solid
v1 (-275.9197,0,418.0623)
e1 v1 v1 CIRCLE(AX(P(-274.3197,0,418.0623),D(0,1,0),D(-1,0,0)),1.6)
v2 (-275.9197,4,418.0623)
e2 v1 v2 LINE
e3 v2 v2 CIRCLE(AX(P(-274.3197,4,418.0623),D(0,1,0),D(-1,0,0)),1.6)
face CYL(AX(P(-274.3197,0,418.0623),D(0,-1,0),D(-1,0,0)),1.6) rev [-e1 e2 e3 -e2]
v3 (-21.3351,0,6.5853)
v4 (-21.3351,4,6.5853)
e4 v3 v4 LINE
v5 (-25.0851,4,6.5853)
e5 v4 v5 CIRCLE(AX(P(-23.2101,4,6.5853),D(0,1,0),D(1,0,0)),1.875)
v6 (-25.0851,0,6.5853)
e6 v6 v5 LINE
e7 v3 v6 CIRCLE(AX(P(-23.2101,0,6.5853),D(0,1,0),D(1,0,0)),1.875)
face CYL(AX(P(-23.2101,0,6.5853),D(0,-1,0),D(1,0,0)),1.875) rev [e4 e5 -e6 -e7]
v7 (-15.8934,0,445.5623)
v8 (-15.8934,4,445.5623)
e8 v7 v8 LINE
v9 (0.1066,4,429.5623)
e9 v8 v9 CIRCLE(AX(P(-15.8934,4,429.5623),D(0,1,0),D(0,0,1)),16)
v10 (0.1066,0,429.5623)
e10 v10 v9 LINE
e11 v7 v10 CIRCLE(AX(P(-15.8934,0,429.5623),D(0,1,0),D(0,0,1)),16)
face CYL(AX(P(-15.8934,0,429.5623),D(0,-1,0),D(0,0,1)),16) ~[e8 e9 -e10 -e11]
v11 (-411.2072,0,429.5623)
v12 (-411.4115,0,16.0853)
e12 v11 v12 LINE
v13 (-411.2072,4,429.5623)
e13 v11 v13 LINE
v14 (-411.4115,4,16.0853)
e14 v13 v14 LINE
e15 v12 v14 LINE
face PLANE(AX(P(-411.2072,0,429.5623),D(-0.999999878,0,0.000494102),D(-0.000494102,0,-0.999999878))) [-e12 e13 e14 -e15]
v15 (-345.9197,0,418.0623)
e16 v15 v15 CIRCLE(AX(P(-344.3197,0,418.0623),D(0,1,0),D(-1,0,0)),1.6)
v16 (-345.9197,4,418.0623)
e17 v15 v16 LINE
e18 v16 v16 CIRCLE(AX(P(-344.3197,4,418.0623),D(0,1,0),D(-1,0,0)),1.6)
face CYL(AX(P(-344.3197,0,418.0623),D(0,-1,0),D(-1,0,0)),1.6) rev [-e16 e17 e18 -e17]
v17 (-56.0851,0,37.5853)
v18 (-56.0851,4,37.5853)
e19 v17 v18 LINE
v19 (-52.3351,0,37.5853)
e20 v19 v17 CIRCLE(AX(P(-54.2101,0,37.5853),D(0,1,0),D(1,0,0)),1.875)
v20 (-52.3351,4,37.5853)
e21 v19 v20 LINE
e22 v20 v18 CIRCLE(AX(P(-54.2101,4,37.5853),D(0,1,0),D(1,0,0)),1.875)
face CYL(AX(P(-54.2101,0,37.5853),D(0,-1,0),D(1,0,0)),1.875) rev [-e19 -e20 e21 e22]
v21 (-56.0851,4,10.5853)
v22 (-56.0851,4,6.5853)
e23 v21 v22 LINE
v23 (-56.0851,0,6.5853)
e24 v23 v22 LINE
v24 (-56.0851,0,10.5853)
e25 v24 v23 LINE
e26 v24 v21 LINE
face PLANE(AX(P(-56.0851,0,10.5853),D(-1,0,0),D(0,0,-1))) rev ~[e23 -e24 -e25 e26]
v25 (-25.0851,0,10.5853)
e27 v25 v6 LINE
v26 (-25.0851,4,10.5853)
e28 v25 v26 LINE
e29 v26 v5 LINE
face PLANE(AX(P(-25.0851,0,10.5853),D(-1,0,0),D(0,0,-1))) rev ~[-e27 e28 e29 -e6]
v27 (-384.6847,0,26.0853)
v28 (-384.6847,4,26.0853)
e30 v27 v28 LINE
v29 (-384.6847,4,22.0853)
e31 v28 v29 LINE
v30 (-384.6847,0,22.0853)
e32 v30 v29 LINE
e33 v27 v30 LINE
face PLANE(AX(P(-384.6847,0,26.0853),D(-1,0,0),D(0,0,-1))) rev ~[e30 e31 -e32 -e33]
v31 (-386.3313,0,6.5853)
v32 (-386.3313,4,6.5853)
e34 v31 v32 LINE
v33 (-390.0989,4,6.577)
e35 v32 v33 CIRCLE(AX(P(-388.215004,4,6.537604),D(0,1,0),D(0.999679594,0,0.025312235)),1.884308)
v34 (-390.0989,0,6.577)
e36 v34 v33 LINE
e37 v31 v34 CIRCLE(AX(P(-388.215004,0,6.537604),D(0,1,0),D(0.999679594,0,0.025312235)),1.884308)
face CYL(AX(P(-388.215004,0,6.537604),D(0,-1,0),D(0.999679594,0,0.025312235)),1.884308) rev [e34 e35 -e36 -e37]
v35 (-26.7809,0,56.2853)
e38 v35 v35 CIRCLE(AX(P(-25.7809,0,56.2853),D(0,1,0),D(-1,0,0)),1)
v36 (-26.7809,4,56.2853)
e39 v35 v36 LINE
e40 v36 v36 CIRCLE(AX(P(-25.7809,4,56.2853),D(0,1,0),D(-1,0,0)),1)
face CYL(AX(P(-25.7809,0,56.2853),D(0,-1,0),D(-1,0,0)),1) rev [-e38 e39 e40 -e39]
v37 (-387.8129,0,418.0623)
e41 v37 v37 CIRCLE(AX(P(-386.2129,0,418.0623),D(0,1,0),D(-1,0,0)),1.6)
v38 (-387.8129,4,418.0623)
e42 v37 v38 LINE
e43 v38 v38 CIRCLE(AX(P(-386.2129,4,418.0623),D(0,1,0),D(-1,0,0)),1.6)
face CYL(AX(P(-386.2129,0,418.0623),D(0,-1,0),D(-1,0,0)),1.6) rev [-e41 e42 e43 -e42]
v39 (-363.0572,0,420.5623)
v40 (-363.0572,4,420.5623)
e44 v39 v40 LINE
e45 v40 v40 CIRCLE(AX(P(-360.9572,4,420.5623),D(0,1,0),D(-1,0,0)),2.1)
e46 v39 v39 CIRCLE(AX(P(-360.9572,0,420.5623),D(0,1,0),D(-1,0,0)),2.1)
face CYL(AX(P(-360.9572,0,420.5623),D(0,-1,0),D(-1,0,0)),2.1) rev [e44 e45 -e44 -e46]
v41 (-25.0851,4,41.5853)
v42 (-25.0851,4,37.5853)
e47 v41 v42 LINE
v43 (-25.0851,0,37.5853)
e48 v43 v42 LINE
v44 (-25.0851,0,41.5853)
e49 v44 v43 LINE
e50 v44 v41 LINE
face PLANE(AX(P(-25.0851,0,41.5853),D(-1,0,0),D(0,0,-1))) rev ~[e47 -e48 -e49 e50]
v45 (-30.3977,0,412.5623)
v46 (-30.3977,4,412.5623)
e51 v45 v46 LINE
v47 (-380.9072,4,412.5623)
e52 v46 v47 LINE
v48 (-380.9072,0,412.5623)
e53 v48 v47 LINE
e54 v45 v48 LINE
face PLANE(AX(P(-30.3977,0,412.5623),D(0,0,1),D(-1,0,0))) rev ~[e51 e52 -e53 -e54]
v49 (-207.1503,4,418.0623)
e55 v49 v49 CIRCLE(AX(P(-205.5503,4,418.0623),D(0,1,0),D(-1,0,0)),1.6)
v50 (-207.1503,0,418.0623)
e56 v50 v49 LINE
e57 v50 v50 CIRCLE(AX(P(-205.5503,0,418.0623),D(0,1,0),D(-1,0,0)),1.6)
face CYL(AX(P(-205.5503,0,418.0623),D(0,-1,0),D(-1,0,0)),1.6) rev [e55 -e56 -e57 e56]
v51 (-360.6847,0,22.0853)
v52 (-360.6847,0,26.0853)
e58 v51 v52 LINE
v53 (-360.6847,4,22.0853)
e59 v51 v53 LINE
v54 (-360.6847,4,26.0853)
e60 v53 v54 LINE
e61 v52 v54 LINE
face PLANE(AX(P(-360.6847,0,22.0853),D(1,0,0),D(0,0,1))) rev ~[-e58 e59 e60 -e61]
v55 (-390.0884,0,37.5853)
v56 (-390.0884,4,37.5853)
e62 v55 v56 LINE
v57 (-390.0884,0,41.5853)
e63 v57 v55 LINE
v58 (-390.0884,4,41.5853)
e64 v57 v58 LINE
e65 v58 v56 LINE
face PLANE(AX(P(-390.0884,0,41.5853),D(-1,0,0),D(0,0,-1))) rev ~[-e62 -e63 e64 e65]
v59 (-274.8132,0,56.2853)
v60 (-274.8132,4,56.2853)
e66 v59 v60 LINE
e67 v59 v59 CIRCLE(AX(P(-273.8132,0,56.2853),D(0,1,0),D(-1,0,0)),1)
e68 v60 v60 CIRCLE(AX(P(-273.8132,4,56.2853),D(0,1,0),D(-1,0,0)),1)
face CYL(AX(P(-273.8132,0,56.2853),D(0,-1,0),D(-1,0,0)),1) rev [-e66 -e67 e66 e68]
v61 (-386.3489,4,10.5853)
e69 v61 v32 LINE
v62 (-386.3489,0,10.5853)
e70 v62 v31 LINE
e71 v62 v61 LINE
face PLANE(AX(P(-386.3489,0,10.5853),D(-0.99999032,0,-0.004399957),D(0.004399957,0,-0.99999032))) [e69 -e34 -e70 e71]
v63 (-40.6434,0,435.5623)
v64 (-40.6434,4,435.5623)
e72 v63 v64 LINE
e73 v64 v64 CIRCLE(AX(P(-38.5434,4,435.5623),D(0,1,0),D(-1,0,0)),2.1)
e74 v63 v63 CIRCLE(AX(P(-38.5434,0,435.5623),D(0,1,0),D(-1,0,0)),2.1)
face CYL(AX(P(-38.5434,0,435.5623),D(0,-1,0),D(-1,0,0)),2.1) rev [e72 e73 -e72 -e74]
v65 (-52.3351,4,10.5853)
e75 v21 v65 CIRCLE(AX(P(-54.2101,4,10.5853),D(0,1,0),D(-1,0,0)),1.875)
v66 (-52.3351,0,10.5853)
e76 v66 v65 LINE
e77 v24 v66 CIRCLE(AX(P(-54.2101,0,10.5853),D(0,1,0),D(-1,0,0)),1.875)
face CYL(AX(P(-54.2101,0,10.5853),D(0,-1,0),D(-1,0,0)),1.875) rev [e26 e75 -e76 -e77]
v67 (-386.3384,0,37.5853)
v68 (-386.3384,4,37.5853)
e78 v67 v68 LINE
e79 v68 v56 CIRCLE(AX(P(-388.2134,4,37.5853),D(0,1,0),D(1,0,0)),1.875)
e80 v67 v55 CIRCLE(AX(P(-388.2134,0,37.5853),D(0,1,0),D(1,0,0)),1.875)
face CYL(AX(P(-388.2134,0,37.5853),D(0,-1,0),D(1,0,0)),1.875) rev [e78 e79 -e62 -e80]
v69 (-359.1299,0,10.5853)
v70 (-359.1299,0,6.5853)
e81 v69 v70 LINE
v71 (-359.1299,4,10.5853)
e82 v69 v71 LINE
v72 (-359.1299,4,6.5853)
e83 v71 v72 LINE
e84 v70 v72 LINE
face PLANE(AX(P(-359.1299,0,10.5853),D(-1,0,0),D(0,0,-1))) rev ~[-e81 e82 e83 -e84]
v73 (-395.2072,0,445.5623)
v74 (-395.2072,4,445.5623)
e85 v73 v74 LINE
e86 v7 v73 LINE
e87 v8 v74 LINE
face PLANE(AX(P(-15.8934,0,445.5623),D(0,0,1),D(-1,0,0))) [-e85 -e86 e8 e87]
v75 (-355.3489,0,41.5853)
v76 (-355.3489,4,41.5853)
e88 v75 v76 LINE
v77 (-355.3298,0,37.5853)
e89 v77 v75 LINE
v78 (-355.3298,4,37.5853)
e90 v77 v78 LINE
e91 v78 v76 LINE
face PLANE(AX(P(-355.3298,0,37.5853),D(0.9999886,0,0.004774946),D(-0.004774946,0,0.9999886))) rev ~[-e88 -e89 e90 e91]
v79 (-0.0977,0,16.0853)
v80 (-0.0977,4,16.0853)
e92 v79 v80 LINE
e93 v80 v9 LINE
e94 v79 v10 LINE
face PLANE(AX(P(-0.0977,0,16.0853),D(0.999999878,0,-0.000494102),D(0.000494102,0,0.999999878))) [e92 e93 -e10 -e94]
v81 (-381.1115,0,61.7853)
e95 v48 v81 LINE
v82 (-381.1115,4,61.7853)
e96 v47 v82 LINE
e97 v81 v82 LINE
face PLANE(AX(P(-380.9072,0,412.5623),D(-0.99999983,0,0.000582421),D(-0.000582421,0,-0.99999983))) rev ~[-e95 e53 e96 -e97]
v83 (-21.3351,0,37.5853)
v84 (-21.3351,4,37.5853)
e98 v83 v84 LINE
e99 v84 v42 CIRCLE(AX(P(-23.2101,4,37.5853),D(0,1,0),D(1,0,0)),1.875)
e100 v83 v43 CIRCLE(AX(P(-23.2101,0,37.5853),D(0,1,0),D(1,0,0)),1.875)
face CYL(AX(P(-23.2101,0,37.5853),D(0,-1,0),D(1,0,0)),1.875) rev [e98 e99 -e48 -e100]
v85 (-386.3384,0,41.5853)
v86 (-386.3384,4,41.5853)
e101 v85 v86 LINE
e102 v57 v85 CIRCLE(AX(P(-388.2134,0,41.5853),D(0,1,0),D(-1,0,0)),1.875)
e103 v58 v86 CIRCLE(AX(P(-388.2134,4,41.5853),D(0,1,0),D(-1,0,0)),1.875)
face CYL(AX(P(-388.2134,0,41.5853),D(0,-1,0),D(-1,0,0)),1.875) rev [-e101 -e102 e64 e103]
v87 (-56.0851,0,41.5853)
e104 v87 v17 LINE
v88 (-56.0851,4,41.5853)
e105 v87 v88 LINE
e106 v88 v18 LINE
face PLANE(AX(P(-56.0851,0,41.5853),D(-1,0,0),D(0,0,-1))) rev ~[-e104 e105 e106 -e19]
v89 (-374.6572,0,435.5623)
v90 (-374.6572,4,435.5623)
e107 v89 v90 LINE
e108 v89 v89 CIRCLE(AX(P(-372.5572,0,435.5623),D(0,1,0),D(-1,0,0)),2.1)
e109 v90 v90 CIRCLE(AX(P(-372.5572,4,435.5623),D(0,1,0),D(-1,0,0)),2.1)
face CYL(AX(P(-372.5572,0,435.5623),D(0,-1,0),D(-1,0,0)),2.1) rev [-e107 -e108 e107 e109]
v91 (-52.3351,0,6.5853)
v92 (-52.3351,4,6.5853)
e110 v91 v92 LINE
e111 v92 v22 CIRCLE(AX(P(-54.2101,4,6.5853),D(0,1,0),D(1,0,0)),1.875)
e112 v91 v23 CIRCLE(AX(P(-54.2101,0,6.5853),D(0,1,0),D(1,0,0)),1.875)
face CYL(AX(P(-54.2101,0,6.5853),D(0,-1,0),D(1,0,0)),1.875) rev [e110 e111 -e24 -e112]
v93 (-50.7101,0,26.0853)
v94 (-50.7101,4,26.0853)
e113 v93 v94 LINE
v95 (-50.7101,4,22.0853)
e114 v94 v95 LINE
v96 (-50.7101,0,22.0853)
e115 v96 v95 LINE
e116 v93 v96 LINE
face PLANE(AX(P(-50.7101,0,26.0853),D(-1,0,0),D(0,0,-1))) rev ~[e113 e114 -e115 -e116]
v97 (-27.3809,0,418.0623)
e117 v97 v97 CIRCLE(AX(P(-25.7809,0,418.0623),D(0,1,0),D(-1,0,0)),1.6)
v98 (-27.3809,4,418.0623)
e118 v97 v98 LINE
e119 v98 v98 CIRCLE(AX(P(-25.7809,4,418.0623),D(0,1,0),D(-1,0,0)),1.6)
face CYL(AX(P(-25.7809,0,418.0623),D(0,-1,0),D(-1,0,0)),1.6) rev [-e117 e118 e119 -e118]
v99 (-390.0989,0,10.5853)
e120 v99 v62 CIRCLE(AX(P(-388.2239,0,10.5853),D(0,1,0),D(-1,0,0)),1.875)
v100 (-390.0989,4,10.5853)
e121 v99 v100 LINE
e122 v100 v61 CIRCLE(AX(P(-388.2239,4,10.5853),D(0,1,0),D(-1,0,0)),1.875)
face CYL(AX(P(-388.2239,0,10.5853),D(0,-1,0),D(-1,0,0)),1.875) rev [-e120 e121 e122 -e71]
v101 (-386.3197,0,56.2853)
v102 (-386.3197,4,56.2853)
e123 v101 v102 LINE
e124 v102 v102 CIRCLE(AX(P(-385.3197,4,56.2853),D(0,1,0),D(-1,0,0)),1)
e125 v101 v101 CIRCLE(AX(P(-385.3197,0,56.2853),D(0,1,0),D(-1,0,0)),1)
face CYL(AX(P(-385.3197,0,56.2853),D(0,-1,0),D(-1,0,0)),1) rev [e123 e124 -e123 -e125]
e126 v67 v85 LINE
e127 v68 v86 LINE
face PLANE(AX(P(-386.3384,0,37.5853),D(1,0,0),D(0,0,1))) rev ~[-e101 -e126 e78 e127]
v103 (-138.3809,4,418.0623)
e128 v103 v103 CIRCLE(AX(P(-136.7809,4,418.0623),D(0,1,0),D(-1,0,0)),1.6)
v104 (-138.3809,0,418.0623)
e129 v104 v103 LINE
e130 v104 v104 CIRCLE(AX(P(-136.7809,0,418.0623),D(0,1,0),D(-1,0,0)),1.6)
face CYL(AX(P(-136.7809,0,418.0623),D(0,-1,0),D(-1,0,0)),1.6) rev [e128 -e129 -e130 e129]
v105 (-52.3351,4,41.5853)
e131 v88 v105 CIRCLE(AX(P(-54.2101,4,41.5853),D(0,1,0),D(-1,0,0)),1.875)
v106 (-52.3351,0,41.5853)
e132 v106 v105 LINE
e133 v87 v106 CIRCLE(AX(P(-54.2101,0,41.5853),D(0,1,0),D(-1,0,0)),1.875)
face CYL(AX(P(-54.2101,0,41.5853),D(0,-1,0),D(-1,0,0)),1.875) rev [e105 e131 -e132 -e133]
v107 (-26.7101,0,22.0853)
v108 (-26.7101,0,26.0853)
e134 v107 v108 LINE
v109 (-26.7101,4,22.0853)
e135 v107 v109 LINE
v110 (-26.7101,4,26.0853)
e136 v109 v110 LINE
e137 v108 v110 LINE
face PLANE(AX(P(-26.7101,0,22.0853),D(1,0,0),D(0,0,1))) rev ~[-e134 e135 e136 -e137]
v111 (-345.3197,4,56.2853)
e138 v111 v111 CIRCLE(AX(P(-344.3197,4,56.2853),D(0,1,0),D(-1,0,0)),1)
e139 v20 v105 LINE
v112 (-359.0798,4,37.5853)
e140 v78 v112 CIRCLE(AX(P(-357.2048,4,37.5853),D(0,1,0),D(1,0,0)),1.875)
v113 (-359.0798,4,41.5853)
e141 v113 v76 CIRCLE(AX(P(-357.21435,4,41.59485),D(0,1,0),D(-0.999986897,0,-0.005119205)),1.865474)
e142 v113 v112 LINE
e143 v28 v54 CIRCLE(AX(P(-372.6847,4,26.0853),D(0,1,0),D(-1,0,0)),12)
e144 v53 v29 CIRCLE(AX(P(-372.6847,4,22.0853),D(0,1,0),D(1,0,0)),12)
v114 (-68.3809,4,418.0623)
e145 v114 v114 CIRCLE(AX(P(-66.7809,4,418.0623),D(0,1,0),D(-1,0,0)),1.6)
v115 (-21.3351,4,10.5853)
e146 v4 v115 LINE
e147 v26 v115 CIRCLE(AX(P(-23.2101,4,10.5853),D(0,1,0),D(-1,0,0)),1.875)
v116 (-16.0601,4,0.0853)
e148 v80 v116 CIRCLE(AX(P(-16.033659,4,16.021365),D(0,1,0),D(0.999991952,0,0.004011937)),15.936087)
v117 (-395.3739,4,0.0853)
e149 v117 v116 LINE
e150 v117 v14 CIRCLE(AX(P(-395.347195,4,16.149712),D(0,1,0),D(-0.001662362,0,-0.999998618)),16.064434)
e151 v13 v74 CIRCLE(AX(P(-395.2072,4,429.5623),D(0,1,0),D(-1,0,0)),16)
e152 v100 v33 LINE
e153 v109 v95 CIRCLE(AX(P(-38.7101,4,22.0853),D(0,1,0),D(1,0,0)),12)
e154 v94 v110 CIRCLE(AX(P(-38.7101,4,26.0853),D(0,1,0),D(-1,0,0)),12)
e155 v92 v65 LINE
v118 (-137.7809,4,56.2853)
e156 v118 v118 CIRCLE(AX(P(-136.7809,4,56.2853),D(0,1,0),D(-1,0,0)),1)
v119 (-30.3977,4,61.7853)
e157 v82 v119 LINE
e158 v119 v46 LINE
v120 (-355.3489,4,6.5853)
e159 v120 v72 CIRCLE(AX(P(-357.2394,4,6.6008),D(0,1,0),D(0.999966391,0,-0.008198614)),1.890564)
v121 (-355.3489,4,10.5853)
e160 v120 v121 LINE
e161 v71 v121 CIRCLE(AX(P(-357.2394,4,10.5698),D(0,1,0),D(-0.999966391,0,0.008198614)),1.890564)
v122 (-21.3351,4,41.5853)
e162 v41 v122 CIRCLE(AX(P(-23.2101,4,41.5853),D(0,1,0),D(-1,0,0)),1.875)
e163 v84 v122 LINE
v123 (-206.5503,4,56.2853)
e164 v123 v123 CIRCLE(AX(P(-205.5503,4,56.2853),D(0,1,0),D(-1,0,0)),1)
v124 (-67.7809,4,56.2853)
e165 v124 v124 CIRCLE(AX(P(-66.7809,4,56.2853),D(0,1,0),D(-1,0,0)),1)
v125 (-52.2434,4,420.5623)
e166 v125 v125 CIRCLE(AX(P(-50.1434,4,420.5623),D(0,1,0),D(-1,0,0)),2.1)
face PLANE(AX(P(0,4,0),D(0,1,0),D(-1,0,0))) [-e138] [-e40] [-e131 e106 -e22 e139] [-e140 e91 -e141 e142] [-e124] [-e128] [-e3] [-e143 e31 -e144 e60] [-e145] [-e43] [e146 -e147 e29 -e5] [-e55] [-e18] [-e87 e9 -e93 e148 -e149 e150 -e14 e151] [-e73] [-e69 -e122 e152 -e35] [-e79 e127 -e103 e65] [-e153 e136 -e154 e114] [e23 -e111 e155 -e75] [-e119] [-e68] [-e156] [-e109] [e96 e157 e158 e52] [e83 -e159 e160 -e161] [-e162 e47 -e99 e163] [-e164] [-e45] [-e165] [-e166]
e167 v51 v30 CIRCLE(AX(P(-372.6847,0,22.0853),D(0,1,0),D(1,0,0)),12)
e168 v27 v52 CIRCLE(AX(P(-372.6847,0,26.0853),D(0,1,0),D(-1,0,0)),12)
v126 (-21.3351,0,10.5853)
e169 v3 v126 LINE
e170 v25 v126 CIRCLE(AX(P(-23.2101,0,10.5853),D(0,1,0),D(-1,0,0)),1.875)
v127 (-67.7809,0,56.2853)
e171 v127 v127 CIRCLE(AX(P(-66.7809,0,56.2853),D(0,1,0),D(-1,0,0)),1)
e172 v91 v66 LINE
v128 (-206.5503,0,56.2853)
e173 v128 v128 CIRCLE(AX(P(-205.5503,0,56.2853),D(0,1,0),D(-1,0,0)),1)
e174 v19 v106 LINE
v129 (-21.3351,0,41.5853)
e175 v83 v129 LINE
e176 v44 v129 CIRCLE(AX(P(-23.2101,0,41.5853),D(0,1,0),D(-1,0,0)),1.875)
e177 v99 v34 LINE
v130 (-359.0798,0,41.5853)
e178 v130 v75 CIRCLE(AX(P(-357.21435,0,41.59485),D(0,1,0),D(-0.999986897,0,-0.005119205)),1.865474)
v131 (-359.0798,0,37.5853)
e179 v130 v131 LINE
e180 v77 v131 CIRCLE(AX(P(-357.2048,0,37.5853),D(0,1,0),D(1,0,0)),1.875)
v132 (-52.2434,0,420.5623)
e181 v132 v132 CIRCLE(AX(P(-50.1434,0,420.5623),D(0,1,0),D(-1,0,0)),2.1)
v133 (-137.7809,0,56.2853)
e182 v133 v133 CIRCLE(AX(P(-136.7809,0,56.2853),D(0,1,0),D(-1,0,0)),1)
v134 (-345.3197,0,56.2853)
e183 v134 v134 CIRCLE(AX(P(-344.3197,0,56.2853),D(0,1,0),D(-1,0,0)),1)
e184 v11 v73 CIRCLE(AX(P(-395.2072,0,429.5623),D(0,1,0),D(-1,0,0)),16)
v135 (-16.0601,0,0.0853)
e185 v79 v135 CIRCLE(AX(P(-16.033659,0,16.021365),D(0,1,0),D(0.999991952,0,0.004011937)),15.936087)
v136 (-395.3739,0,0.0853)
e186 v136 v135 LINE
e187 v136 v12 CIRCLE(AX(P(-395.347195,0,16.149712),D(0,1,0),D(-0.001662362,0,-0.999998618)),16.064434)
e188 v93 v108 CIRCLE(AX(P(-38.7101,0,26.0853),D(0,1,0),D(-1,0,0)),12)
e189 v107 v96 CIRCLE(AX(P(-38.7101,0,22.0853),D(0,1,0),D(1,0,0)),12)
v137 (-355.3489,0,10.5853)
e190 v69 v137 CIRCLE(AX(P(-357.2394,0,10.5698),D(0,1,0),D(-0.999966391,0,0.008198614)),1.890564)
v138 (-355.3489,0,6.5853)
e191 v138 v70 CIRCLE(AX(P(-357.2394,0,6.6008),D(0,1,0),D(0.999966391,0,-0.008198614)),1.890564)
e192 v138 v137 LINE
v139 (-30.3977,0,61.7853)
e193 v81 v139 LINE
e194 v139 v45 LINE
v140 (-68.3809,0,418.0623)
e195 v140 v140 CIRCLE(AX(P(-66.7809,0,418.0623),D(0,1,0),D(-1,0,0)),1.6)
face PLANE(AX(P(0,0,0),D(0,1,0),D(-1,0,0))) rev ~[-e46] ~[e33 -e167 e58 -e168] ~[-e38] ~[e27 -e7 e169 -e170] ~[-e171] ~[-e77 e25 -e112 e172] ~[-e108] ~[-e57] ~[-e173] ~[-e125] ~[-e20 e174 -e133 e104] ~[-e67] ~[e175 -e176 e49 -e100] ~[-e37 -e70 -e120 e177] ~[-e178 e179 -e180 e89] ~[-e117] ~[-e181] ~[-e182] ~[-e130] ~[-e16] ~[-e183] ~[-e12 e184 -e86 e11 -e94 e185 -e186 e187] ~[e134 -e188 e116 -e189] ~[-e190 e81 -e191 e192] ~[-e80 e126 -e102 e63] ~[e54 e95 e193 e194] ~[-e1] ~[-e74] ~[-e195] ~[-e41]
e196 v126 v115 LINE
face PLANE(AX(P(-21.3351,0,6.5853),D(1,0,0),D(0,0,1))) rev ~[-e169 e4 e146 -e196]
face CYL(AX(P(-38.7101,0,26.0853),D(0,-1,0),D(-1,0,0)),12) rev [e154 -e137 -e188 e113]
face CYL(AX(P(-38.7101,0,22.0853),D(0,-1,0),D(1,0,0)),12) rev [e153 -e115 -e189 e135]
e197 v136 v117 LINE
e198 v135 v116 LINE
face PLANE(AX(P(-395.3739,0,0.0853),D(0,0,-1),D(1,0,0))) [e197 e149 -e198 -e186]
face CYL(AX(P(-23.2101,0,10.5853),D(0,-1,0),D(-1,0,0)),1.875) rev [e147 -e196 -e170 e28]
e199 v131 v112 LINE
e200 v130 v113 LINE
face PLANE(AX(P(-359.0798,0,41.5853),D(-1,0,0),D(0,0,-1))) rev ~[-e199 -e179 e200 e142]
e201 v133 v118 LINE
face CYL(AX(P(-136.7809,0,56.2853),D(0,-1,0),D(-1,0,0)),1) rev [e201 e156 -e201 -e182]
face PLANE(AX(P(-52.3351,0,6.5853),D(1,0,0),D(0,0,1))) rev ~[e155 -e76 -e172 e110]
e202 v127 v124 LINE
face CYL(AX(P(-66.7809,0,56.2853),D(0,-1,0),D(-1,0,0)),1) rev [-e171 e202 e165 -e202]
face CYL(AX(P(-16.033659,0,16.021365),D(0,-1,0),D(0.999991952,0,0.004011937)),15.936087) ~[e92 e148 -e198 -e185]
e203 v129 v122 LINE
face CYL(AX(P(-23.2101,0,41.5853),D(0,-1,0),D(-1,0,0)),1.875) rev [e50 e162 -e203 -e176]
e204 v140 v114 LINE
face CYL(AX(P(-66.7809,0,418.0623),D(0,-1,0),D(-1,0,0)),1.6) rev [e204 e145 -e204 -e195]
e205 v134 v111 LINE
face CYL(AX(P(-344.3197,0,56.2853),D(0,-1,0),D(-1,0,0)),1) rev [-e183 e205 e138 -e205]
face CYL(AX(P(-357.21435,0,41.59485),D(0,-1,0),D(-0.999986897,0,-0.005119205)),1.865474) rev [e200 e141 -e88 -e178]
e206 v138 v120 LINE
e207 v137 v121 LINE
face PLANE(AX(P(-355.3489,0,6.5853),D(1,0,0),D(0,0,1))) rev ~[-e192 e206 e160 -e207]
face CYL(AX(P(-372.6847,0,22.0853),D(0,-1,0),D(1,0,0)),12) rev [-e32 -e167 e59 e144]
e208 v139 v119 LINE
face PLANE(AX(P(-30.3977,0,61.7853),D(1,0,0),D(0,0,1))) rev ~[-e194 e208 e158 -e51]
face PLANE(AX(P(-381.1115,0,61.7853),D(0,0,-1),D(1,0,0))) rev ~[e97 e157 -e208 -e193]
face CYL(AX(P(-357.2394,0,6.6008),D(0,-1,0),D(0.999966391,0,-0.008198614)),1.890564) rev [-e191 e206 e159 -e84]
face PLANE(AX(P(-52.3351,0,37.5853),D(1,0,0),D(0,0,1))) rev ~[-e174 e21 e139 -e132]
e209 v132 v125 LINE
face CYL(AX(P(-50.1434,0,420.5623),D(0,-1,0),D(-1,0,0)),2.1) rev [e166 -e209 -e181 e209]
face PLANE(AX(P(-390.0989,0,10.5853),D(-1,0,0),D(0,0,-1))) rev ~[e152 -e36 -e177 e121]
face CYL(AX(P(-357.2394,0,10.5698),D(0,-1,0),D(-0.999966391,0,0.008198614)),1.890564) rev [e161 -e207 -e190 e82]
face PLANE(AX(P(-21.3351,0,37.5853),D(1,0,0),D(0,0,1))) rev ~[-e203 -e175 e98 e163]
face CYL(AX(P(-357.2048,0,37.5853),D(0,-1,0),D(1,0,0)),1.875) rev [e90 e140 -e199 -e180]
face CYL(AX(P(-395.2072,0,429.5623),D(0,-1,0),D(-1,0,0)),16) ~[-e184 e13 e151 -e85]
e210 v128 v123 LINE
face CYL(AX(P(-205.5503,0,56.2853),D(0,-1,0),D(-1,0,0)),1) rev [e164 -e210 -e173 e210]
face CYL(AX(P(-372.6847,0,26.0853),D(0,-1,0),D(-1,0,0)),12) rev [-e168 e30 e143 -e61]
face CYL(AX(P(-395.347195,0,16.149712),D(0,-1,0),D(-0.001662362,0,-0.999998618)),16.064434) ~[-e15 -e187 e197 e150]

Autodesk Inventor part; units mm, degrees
ref_plane "YZ Plane" through (0, 0, 0) normal (1, 0, 0) x (0, 1, 0)
ref_plane "XZ Plane" through (0, 0, 0) normal (0, 1, 0) x (-1, 0, 0)
ref_plane "XY Plane" through (0, 0, 0) normal (0, 0, 1) x (1, 0, 0)
sketch "Sketch2" plane through (0, 0, 0) normal (0, 1, 0) x (-1, 0, 0)
  line L0 (381.1115, 61.7853) -> (30.3977, 61.7853)
  line L1 (380.9072, 412.5623) -> (381.1115, 61.7853)
  line L2 (30.1934, 412.5623) -> (380.9072, 412.5623)
  line L3 (30.3977, 61.7853) -> (30.3977, 412.5623)
  arc A0 (0.0977, 16.0853) -> (16.0601, 0.0853) centre (16.0335, 16.0213) ccw
  line L4 (0.0977, 16.0853) -> (-0.1066, 429.5623)
  arc A1 (15.8934, 445.5623) -> (-0.1066, 429.5623) centre (15.8934, 429.5623) ccw
  line L5 (15.8934, 445.5623) -> (395.2072, 445.5623)
  arc A2 (411.2072, 429.5623) -> (395.2072, 445.5623) centre (395.2072, 429.5623) ccw
  line L6 (411.2072, 429.5623) -> (411.4115, 16.0853)
  arc A3 (395.3739, 0.0853) -> (411.4115, 16.0853) centre (395.3472, 16.1497) ccw
  line L7 (395.3739, 0.0853) -> (16.0601, 0.0853)
  arc A4 (21.3351, 6.5853) -> (25.0851, 6.5853) centre (23.2101, 6.5853) ccw
  line L8 (25.0851, 10.5853) -> (25.0851, 6.5853)
  arc A5 (25.0851, 10.5853) -> (21.3351, 10.5853) centre (23.2101, 10.5853) ccw
  line L9 (21.3351, 6.5853) -> (21.3351, 10.5853)
  arc A6 (52.3351, 6.5853) -> (56.0851, 6.5853) centre (54.2101, 6.5853) ccw
  line L10 (56.0851, 10.5853) -> (56.0851, 6.5853)
  arc A7 (56.0851, 10.5853) -> (52.3351, 10.5853) centre (54.2101, 10.5853) ccw
  line L11 (52.3351, 6.5853) -> (52.3351, 10.5853)
  arc A8 (21.3351, 37.5853) -> (25.0851, 37.5853) centre (23.2101, 37.5853) ccw
  line L12 (25.0851, 41.5853) -> (25.0851, 37.5853)
  arc A9 (25.0851, 41.5853) -> (21.3351, 41.5853) centre (23.2101, 41.5853) ccw
  line L13 (21.3351, 37.5853) -> (21.3351, 41.5853)
  arc A10 (52.3351, 37.5853) -> (56.0851, 37.5853) centre (54.2101, 37.5853) ccw
  line L14 (56.0851, 41.5853) -> (56.0851, 37.5853)
  arc A11 (56.0851, 41.5853) -> (52.3351, 41.5853) centre (54.2101, 41.5853) ccw
  line L15 (52.3351, 37.5853) -> (52.3351, 41.5853)
  arc A12 (26.7101, 22.0853) -> (50.7101, 22.0853) centre (38.7101, 22.0853) ccw
  line L16 (50.7101, 26.0853) -> (50.7101, 22.0853)
  arc A13 (50.7101, 26.0853) -> (26.7101, 26.0853) centre (38.7101, 26.0853) ccw
  line L17 (26.7101, 22.0853) -> (26.7101, 26.0853)
  arc A14 (355.3489, 6.5853) -> (359.1299, 6.5853) centre (357.2394, 6.6008) ccw
  line L18 (359.1299, 10.5853) -> (359.1299, 6.5853)
  arc A15 (359.1299, 10.5853) -> (355.3489, 10.5853) centre (357.2394, 10.5698) ccw
  line L19 (355.3489, 6.5853) -> (355.3489, 10.5853)
  arc A16 (386.3313, 6.5853) -> (390.0989, 6.577) centre (388.215, 6.5376) ccw
  arc A17 (386.3384, 37.5853) -> (390.0884, 37.5853) centre (388.2134, 37.5853) ccw
  line L20 (390.0884, 41.5853) -> (390.0884, 37.5853)
  arc A18 (390.0884, 41.5853) -> (386.3384, 41.5853) centre (388.2134, 41.5853) ccw
  line L21 (386.3384, 37.5853) -> (386.3384, 41.5853)
  arc A19 (355.3298, 37.5853) -> (359.0798, 37.5853) centre (357.2048, 37.5853) ccw
  line L22 (359.0798, 41.5853) -> (359.0798, 37.5853)
  arc A20 (359.0798, 41.5853) -> (355.3489, 41.5853) centre (357.2143, 41.5948) ccw
  line L23 (355.3298, 37.5853) -> (355.3489, 41.5853)
  arc A21 (360.6847, 22.0853) -> (384.6847, 22.0853) centre (372.6847, 22.0853) ccw
  line L24 (384.6847, 26.0853) -> (384.6847, 22.0853)
  arc A22 (384.6847, 26.0853) -> (360.6847, 26.0853) centre (372.6847, 26.0853) ccw
  line L25 (360.6847, 22.0853) -> (360.6847, 26.0853)
  circle A23 centre (50.1434, 420.5623) radius 2.1
  circle A24 centre (38.5434, 435.5623) radius 2.1
  circle A25 centre (372.5572, 435.5623) radius 2.1
  circle A26 centre (360.9572, 420.5623) radius 2.1
  circle A27 centre (25.7809, 418.0623) radius 1.6
  circle A28 centre (66.7809, 418.0623) radius 1.6
  circle A29 centre (205.5503, 418.0623) radius 1.6
  circle A30 centre (344.3197, 418.0623) radius 1.6
  circle A31 centre (386.2129, 418.0623) radius 1.6
  circle A32 centre (385.3197, 56.2853) radius 1
  circle A33 centre (344.3197, 56.2853) radius 1
  circle A34 centre (205.5503, 56.2853) radius 1
  circle A35 centre (66.7809, 56.2853) radius 1
  circle A36 centre (25.7809, 56.2853) radius 1
  arc A37 (390.0989, 10.5853) -> (386.3489, 10.5853) centre (388.2239, 10.5853) ccw
  line L26 (378.8199, 179.5488) -> (32.1952, 179.5488)
  circle A38 centre (60.6452, 222.8238) radius 1.6
  circle A39 centre (60.6452, 258.6363) radius 1.6
  circle A40 centre (60.6452, 187.0113) radius 1.6
  circle A41 centre (350.3699, 187.0113) radius 1.6
  circle A42 centre (350.3699, 222.8238) radius 1.6
  circle A43 centre (350.3699, 258.6363) radius 1.6
  circle A44 centre (49.8452, 185.8988) radius 1.6
  circle A45 centre (49.8452, 259.7488) radius 1.6
  circle A46 centre (361.1699, 222.8238) radius 1.6
  line L27 (378.8199, 266.0988) -> (378.8199, 179.5488)
  line L28 (345.8699, 256.5738) -> (345.8699, 189.0738)
  line L29 (65.1452, 256.5738) -> (345.8699, 256.5738)
  line L30 (65.1452, 189.0738) -> (65.1452, 256.5738)
  line L31 (345.8699, 189.0738) -> (65.1452, 189.0738)
  line L32 (32.1952, 179.5488) -> (32.1952, 266.0988)
  line L33 (32.1952, 266.0988) -> (378.8199, 266.0988)
  circle A47 centre (50.1452, 204.5238) radius 2.1
  circle A48 centre (360.8699, 204.5238) radius 2.1
  circle A49 centre (360.8699, 241.1238) radius 2.1
  circle A50 centre (50.1452, 241.1238) radius 2.1
  line L34 (224.6003, 203.7738) -> (186.5003, 203.7738)
  line L35 (224.6003, 207.8328) -> (224.6003, 203.7738)
  arc A51 (226.0103, 209.3301) -> (224.6003, 207.8328) centre (226.1003, 207.8328) ccw
  arc A52 (226.0103, 209.3301) -> (226.0103, 216.3175) centre (225.8003, 212.8238) ccw
  arc A53 (224.6003, 217.8148) -> (226.0103, 216.3175) centre (226.1003, 217.8148) ccw
  arc A54 (226.0103, 229.3301) -> (224.6003, 227.8328) centre (226.1003, 227.8328) ccw
  arc A55 (226.0103, 229.3301) -> (226.0103, 236.3175) centre (225.8003, 232.8238) ccw
  arc A56 (224.6003, 237.8148) -> (226.0103, 236.3175) centre (226.1003, 237.8148) ccw
  line L36 (186.5003, 241.8738) -> (224.6003, 241.8738)
  line L37 (186.5003, 237.8148) -> (186.5003, 241.8738)
  arc A57 (185.0903, 236.3175) -> (186.5003, 237.8148) centre (185.0003, 237.8148) ccw
  arc A58 (185.0903, 236.3175) -> (185.0903, 229.3301) centre (185.3003, 232.8238) ccw
  arc A59 (186.5003, 227.8328) -> (185.0903, 229.3301) centre (185.0003, 227.8328) ccw
  arc A60 (185.0903, 216.3175) -> (186.5003, 217.8148) centre (185.0003, 217.8148) ccw
  arc A61 (185.0903, 216.3175) -> (185.0903, 209.3301) centre (185.3003, 212.8238) ccw
  arc A62 (186.5003, 207.8328) -> (185.0903, 209.3301) centre (185.0003, 207.8328) ccw
  line L38 (173.8003, 254.5738) -> (237.3003, 254.5738)
  line L39 (237.3003, 254.5738) -> (237.3003, 191.0738)
  line L40 (237.3003, 191.0738) -> (173.8003, 191.0738)
  line L41 (173.8003, 191.0738) -> (173.8003, 254.5738)
  circle A63 centre (180.1503, 197.0113) radius 0.875
  circle A64 centre (230.9503, 197.0113) radius 0.875
  circle A65 centre (230.9503, 248.6363) radius 0.875
  circle A66 centre (180.1503, 248.6363) radius 0.875
  circle A67 centre (177.8003, 232.8238) radius 0.875
  circle A68 centre (233.3003, 232.8238) radius 0.875
  circle A69 centre (233.3003, 212.8238) radius 0.875
  circle A70 centre (177.8003, 212.8238) radius 0.875
  line L42 (186.5003, 203.7738) -> (186.5003, 207.8328)
  line L43 (186.5003, 217.8148) -> (186.5003, 227.8328)
  line L44 (224.6003, 241.8738) -> (224.6003, 237.8148)
  line L45 (224.6003, 227.8328) -> (224.6003, 217.8148)
  line L46 (390.0989, 10.5853) -> (390.0989, 6.577)
  line L47 (386.3489, 10.5853) -> (386.3313, 6.5853)
  circle A71 centre (136.7809, 56.2853) radius 1
  circle A72 centre (273.8132, 56.2853) radius 1
  circle A73 centre (274.3197, 418.0623) radius 1.6
  circle A74 centre (136.7809, 418.0623) radius 1.6
  point P0 (0, 0)
extrude "Extrusion1" add sketch "Sketch2" along normal blind 4 contours L4 A1 L5 A2 L6 A3 L7 A0
properties part number "300 mm top plate"
